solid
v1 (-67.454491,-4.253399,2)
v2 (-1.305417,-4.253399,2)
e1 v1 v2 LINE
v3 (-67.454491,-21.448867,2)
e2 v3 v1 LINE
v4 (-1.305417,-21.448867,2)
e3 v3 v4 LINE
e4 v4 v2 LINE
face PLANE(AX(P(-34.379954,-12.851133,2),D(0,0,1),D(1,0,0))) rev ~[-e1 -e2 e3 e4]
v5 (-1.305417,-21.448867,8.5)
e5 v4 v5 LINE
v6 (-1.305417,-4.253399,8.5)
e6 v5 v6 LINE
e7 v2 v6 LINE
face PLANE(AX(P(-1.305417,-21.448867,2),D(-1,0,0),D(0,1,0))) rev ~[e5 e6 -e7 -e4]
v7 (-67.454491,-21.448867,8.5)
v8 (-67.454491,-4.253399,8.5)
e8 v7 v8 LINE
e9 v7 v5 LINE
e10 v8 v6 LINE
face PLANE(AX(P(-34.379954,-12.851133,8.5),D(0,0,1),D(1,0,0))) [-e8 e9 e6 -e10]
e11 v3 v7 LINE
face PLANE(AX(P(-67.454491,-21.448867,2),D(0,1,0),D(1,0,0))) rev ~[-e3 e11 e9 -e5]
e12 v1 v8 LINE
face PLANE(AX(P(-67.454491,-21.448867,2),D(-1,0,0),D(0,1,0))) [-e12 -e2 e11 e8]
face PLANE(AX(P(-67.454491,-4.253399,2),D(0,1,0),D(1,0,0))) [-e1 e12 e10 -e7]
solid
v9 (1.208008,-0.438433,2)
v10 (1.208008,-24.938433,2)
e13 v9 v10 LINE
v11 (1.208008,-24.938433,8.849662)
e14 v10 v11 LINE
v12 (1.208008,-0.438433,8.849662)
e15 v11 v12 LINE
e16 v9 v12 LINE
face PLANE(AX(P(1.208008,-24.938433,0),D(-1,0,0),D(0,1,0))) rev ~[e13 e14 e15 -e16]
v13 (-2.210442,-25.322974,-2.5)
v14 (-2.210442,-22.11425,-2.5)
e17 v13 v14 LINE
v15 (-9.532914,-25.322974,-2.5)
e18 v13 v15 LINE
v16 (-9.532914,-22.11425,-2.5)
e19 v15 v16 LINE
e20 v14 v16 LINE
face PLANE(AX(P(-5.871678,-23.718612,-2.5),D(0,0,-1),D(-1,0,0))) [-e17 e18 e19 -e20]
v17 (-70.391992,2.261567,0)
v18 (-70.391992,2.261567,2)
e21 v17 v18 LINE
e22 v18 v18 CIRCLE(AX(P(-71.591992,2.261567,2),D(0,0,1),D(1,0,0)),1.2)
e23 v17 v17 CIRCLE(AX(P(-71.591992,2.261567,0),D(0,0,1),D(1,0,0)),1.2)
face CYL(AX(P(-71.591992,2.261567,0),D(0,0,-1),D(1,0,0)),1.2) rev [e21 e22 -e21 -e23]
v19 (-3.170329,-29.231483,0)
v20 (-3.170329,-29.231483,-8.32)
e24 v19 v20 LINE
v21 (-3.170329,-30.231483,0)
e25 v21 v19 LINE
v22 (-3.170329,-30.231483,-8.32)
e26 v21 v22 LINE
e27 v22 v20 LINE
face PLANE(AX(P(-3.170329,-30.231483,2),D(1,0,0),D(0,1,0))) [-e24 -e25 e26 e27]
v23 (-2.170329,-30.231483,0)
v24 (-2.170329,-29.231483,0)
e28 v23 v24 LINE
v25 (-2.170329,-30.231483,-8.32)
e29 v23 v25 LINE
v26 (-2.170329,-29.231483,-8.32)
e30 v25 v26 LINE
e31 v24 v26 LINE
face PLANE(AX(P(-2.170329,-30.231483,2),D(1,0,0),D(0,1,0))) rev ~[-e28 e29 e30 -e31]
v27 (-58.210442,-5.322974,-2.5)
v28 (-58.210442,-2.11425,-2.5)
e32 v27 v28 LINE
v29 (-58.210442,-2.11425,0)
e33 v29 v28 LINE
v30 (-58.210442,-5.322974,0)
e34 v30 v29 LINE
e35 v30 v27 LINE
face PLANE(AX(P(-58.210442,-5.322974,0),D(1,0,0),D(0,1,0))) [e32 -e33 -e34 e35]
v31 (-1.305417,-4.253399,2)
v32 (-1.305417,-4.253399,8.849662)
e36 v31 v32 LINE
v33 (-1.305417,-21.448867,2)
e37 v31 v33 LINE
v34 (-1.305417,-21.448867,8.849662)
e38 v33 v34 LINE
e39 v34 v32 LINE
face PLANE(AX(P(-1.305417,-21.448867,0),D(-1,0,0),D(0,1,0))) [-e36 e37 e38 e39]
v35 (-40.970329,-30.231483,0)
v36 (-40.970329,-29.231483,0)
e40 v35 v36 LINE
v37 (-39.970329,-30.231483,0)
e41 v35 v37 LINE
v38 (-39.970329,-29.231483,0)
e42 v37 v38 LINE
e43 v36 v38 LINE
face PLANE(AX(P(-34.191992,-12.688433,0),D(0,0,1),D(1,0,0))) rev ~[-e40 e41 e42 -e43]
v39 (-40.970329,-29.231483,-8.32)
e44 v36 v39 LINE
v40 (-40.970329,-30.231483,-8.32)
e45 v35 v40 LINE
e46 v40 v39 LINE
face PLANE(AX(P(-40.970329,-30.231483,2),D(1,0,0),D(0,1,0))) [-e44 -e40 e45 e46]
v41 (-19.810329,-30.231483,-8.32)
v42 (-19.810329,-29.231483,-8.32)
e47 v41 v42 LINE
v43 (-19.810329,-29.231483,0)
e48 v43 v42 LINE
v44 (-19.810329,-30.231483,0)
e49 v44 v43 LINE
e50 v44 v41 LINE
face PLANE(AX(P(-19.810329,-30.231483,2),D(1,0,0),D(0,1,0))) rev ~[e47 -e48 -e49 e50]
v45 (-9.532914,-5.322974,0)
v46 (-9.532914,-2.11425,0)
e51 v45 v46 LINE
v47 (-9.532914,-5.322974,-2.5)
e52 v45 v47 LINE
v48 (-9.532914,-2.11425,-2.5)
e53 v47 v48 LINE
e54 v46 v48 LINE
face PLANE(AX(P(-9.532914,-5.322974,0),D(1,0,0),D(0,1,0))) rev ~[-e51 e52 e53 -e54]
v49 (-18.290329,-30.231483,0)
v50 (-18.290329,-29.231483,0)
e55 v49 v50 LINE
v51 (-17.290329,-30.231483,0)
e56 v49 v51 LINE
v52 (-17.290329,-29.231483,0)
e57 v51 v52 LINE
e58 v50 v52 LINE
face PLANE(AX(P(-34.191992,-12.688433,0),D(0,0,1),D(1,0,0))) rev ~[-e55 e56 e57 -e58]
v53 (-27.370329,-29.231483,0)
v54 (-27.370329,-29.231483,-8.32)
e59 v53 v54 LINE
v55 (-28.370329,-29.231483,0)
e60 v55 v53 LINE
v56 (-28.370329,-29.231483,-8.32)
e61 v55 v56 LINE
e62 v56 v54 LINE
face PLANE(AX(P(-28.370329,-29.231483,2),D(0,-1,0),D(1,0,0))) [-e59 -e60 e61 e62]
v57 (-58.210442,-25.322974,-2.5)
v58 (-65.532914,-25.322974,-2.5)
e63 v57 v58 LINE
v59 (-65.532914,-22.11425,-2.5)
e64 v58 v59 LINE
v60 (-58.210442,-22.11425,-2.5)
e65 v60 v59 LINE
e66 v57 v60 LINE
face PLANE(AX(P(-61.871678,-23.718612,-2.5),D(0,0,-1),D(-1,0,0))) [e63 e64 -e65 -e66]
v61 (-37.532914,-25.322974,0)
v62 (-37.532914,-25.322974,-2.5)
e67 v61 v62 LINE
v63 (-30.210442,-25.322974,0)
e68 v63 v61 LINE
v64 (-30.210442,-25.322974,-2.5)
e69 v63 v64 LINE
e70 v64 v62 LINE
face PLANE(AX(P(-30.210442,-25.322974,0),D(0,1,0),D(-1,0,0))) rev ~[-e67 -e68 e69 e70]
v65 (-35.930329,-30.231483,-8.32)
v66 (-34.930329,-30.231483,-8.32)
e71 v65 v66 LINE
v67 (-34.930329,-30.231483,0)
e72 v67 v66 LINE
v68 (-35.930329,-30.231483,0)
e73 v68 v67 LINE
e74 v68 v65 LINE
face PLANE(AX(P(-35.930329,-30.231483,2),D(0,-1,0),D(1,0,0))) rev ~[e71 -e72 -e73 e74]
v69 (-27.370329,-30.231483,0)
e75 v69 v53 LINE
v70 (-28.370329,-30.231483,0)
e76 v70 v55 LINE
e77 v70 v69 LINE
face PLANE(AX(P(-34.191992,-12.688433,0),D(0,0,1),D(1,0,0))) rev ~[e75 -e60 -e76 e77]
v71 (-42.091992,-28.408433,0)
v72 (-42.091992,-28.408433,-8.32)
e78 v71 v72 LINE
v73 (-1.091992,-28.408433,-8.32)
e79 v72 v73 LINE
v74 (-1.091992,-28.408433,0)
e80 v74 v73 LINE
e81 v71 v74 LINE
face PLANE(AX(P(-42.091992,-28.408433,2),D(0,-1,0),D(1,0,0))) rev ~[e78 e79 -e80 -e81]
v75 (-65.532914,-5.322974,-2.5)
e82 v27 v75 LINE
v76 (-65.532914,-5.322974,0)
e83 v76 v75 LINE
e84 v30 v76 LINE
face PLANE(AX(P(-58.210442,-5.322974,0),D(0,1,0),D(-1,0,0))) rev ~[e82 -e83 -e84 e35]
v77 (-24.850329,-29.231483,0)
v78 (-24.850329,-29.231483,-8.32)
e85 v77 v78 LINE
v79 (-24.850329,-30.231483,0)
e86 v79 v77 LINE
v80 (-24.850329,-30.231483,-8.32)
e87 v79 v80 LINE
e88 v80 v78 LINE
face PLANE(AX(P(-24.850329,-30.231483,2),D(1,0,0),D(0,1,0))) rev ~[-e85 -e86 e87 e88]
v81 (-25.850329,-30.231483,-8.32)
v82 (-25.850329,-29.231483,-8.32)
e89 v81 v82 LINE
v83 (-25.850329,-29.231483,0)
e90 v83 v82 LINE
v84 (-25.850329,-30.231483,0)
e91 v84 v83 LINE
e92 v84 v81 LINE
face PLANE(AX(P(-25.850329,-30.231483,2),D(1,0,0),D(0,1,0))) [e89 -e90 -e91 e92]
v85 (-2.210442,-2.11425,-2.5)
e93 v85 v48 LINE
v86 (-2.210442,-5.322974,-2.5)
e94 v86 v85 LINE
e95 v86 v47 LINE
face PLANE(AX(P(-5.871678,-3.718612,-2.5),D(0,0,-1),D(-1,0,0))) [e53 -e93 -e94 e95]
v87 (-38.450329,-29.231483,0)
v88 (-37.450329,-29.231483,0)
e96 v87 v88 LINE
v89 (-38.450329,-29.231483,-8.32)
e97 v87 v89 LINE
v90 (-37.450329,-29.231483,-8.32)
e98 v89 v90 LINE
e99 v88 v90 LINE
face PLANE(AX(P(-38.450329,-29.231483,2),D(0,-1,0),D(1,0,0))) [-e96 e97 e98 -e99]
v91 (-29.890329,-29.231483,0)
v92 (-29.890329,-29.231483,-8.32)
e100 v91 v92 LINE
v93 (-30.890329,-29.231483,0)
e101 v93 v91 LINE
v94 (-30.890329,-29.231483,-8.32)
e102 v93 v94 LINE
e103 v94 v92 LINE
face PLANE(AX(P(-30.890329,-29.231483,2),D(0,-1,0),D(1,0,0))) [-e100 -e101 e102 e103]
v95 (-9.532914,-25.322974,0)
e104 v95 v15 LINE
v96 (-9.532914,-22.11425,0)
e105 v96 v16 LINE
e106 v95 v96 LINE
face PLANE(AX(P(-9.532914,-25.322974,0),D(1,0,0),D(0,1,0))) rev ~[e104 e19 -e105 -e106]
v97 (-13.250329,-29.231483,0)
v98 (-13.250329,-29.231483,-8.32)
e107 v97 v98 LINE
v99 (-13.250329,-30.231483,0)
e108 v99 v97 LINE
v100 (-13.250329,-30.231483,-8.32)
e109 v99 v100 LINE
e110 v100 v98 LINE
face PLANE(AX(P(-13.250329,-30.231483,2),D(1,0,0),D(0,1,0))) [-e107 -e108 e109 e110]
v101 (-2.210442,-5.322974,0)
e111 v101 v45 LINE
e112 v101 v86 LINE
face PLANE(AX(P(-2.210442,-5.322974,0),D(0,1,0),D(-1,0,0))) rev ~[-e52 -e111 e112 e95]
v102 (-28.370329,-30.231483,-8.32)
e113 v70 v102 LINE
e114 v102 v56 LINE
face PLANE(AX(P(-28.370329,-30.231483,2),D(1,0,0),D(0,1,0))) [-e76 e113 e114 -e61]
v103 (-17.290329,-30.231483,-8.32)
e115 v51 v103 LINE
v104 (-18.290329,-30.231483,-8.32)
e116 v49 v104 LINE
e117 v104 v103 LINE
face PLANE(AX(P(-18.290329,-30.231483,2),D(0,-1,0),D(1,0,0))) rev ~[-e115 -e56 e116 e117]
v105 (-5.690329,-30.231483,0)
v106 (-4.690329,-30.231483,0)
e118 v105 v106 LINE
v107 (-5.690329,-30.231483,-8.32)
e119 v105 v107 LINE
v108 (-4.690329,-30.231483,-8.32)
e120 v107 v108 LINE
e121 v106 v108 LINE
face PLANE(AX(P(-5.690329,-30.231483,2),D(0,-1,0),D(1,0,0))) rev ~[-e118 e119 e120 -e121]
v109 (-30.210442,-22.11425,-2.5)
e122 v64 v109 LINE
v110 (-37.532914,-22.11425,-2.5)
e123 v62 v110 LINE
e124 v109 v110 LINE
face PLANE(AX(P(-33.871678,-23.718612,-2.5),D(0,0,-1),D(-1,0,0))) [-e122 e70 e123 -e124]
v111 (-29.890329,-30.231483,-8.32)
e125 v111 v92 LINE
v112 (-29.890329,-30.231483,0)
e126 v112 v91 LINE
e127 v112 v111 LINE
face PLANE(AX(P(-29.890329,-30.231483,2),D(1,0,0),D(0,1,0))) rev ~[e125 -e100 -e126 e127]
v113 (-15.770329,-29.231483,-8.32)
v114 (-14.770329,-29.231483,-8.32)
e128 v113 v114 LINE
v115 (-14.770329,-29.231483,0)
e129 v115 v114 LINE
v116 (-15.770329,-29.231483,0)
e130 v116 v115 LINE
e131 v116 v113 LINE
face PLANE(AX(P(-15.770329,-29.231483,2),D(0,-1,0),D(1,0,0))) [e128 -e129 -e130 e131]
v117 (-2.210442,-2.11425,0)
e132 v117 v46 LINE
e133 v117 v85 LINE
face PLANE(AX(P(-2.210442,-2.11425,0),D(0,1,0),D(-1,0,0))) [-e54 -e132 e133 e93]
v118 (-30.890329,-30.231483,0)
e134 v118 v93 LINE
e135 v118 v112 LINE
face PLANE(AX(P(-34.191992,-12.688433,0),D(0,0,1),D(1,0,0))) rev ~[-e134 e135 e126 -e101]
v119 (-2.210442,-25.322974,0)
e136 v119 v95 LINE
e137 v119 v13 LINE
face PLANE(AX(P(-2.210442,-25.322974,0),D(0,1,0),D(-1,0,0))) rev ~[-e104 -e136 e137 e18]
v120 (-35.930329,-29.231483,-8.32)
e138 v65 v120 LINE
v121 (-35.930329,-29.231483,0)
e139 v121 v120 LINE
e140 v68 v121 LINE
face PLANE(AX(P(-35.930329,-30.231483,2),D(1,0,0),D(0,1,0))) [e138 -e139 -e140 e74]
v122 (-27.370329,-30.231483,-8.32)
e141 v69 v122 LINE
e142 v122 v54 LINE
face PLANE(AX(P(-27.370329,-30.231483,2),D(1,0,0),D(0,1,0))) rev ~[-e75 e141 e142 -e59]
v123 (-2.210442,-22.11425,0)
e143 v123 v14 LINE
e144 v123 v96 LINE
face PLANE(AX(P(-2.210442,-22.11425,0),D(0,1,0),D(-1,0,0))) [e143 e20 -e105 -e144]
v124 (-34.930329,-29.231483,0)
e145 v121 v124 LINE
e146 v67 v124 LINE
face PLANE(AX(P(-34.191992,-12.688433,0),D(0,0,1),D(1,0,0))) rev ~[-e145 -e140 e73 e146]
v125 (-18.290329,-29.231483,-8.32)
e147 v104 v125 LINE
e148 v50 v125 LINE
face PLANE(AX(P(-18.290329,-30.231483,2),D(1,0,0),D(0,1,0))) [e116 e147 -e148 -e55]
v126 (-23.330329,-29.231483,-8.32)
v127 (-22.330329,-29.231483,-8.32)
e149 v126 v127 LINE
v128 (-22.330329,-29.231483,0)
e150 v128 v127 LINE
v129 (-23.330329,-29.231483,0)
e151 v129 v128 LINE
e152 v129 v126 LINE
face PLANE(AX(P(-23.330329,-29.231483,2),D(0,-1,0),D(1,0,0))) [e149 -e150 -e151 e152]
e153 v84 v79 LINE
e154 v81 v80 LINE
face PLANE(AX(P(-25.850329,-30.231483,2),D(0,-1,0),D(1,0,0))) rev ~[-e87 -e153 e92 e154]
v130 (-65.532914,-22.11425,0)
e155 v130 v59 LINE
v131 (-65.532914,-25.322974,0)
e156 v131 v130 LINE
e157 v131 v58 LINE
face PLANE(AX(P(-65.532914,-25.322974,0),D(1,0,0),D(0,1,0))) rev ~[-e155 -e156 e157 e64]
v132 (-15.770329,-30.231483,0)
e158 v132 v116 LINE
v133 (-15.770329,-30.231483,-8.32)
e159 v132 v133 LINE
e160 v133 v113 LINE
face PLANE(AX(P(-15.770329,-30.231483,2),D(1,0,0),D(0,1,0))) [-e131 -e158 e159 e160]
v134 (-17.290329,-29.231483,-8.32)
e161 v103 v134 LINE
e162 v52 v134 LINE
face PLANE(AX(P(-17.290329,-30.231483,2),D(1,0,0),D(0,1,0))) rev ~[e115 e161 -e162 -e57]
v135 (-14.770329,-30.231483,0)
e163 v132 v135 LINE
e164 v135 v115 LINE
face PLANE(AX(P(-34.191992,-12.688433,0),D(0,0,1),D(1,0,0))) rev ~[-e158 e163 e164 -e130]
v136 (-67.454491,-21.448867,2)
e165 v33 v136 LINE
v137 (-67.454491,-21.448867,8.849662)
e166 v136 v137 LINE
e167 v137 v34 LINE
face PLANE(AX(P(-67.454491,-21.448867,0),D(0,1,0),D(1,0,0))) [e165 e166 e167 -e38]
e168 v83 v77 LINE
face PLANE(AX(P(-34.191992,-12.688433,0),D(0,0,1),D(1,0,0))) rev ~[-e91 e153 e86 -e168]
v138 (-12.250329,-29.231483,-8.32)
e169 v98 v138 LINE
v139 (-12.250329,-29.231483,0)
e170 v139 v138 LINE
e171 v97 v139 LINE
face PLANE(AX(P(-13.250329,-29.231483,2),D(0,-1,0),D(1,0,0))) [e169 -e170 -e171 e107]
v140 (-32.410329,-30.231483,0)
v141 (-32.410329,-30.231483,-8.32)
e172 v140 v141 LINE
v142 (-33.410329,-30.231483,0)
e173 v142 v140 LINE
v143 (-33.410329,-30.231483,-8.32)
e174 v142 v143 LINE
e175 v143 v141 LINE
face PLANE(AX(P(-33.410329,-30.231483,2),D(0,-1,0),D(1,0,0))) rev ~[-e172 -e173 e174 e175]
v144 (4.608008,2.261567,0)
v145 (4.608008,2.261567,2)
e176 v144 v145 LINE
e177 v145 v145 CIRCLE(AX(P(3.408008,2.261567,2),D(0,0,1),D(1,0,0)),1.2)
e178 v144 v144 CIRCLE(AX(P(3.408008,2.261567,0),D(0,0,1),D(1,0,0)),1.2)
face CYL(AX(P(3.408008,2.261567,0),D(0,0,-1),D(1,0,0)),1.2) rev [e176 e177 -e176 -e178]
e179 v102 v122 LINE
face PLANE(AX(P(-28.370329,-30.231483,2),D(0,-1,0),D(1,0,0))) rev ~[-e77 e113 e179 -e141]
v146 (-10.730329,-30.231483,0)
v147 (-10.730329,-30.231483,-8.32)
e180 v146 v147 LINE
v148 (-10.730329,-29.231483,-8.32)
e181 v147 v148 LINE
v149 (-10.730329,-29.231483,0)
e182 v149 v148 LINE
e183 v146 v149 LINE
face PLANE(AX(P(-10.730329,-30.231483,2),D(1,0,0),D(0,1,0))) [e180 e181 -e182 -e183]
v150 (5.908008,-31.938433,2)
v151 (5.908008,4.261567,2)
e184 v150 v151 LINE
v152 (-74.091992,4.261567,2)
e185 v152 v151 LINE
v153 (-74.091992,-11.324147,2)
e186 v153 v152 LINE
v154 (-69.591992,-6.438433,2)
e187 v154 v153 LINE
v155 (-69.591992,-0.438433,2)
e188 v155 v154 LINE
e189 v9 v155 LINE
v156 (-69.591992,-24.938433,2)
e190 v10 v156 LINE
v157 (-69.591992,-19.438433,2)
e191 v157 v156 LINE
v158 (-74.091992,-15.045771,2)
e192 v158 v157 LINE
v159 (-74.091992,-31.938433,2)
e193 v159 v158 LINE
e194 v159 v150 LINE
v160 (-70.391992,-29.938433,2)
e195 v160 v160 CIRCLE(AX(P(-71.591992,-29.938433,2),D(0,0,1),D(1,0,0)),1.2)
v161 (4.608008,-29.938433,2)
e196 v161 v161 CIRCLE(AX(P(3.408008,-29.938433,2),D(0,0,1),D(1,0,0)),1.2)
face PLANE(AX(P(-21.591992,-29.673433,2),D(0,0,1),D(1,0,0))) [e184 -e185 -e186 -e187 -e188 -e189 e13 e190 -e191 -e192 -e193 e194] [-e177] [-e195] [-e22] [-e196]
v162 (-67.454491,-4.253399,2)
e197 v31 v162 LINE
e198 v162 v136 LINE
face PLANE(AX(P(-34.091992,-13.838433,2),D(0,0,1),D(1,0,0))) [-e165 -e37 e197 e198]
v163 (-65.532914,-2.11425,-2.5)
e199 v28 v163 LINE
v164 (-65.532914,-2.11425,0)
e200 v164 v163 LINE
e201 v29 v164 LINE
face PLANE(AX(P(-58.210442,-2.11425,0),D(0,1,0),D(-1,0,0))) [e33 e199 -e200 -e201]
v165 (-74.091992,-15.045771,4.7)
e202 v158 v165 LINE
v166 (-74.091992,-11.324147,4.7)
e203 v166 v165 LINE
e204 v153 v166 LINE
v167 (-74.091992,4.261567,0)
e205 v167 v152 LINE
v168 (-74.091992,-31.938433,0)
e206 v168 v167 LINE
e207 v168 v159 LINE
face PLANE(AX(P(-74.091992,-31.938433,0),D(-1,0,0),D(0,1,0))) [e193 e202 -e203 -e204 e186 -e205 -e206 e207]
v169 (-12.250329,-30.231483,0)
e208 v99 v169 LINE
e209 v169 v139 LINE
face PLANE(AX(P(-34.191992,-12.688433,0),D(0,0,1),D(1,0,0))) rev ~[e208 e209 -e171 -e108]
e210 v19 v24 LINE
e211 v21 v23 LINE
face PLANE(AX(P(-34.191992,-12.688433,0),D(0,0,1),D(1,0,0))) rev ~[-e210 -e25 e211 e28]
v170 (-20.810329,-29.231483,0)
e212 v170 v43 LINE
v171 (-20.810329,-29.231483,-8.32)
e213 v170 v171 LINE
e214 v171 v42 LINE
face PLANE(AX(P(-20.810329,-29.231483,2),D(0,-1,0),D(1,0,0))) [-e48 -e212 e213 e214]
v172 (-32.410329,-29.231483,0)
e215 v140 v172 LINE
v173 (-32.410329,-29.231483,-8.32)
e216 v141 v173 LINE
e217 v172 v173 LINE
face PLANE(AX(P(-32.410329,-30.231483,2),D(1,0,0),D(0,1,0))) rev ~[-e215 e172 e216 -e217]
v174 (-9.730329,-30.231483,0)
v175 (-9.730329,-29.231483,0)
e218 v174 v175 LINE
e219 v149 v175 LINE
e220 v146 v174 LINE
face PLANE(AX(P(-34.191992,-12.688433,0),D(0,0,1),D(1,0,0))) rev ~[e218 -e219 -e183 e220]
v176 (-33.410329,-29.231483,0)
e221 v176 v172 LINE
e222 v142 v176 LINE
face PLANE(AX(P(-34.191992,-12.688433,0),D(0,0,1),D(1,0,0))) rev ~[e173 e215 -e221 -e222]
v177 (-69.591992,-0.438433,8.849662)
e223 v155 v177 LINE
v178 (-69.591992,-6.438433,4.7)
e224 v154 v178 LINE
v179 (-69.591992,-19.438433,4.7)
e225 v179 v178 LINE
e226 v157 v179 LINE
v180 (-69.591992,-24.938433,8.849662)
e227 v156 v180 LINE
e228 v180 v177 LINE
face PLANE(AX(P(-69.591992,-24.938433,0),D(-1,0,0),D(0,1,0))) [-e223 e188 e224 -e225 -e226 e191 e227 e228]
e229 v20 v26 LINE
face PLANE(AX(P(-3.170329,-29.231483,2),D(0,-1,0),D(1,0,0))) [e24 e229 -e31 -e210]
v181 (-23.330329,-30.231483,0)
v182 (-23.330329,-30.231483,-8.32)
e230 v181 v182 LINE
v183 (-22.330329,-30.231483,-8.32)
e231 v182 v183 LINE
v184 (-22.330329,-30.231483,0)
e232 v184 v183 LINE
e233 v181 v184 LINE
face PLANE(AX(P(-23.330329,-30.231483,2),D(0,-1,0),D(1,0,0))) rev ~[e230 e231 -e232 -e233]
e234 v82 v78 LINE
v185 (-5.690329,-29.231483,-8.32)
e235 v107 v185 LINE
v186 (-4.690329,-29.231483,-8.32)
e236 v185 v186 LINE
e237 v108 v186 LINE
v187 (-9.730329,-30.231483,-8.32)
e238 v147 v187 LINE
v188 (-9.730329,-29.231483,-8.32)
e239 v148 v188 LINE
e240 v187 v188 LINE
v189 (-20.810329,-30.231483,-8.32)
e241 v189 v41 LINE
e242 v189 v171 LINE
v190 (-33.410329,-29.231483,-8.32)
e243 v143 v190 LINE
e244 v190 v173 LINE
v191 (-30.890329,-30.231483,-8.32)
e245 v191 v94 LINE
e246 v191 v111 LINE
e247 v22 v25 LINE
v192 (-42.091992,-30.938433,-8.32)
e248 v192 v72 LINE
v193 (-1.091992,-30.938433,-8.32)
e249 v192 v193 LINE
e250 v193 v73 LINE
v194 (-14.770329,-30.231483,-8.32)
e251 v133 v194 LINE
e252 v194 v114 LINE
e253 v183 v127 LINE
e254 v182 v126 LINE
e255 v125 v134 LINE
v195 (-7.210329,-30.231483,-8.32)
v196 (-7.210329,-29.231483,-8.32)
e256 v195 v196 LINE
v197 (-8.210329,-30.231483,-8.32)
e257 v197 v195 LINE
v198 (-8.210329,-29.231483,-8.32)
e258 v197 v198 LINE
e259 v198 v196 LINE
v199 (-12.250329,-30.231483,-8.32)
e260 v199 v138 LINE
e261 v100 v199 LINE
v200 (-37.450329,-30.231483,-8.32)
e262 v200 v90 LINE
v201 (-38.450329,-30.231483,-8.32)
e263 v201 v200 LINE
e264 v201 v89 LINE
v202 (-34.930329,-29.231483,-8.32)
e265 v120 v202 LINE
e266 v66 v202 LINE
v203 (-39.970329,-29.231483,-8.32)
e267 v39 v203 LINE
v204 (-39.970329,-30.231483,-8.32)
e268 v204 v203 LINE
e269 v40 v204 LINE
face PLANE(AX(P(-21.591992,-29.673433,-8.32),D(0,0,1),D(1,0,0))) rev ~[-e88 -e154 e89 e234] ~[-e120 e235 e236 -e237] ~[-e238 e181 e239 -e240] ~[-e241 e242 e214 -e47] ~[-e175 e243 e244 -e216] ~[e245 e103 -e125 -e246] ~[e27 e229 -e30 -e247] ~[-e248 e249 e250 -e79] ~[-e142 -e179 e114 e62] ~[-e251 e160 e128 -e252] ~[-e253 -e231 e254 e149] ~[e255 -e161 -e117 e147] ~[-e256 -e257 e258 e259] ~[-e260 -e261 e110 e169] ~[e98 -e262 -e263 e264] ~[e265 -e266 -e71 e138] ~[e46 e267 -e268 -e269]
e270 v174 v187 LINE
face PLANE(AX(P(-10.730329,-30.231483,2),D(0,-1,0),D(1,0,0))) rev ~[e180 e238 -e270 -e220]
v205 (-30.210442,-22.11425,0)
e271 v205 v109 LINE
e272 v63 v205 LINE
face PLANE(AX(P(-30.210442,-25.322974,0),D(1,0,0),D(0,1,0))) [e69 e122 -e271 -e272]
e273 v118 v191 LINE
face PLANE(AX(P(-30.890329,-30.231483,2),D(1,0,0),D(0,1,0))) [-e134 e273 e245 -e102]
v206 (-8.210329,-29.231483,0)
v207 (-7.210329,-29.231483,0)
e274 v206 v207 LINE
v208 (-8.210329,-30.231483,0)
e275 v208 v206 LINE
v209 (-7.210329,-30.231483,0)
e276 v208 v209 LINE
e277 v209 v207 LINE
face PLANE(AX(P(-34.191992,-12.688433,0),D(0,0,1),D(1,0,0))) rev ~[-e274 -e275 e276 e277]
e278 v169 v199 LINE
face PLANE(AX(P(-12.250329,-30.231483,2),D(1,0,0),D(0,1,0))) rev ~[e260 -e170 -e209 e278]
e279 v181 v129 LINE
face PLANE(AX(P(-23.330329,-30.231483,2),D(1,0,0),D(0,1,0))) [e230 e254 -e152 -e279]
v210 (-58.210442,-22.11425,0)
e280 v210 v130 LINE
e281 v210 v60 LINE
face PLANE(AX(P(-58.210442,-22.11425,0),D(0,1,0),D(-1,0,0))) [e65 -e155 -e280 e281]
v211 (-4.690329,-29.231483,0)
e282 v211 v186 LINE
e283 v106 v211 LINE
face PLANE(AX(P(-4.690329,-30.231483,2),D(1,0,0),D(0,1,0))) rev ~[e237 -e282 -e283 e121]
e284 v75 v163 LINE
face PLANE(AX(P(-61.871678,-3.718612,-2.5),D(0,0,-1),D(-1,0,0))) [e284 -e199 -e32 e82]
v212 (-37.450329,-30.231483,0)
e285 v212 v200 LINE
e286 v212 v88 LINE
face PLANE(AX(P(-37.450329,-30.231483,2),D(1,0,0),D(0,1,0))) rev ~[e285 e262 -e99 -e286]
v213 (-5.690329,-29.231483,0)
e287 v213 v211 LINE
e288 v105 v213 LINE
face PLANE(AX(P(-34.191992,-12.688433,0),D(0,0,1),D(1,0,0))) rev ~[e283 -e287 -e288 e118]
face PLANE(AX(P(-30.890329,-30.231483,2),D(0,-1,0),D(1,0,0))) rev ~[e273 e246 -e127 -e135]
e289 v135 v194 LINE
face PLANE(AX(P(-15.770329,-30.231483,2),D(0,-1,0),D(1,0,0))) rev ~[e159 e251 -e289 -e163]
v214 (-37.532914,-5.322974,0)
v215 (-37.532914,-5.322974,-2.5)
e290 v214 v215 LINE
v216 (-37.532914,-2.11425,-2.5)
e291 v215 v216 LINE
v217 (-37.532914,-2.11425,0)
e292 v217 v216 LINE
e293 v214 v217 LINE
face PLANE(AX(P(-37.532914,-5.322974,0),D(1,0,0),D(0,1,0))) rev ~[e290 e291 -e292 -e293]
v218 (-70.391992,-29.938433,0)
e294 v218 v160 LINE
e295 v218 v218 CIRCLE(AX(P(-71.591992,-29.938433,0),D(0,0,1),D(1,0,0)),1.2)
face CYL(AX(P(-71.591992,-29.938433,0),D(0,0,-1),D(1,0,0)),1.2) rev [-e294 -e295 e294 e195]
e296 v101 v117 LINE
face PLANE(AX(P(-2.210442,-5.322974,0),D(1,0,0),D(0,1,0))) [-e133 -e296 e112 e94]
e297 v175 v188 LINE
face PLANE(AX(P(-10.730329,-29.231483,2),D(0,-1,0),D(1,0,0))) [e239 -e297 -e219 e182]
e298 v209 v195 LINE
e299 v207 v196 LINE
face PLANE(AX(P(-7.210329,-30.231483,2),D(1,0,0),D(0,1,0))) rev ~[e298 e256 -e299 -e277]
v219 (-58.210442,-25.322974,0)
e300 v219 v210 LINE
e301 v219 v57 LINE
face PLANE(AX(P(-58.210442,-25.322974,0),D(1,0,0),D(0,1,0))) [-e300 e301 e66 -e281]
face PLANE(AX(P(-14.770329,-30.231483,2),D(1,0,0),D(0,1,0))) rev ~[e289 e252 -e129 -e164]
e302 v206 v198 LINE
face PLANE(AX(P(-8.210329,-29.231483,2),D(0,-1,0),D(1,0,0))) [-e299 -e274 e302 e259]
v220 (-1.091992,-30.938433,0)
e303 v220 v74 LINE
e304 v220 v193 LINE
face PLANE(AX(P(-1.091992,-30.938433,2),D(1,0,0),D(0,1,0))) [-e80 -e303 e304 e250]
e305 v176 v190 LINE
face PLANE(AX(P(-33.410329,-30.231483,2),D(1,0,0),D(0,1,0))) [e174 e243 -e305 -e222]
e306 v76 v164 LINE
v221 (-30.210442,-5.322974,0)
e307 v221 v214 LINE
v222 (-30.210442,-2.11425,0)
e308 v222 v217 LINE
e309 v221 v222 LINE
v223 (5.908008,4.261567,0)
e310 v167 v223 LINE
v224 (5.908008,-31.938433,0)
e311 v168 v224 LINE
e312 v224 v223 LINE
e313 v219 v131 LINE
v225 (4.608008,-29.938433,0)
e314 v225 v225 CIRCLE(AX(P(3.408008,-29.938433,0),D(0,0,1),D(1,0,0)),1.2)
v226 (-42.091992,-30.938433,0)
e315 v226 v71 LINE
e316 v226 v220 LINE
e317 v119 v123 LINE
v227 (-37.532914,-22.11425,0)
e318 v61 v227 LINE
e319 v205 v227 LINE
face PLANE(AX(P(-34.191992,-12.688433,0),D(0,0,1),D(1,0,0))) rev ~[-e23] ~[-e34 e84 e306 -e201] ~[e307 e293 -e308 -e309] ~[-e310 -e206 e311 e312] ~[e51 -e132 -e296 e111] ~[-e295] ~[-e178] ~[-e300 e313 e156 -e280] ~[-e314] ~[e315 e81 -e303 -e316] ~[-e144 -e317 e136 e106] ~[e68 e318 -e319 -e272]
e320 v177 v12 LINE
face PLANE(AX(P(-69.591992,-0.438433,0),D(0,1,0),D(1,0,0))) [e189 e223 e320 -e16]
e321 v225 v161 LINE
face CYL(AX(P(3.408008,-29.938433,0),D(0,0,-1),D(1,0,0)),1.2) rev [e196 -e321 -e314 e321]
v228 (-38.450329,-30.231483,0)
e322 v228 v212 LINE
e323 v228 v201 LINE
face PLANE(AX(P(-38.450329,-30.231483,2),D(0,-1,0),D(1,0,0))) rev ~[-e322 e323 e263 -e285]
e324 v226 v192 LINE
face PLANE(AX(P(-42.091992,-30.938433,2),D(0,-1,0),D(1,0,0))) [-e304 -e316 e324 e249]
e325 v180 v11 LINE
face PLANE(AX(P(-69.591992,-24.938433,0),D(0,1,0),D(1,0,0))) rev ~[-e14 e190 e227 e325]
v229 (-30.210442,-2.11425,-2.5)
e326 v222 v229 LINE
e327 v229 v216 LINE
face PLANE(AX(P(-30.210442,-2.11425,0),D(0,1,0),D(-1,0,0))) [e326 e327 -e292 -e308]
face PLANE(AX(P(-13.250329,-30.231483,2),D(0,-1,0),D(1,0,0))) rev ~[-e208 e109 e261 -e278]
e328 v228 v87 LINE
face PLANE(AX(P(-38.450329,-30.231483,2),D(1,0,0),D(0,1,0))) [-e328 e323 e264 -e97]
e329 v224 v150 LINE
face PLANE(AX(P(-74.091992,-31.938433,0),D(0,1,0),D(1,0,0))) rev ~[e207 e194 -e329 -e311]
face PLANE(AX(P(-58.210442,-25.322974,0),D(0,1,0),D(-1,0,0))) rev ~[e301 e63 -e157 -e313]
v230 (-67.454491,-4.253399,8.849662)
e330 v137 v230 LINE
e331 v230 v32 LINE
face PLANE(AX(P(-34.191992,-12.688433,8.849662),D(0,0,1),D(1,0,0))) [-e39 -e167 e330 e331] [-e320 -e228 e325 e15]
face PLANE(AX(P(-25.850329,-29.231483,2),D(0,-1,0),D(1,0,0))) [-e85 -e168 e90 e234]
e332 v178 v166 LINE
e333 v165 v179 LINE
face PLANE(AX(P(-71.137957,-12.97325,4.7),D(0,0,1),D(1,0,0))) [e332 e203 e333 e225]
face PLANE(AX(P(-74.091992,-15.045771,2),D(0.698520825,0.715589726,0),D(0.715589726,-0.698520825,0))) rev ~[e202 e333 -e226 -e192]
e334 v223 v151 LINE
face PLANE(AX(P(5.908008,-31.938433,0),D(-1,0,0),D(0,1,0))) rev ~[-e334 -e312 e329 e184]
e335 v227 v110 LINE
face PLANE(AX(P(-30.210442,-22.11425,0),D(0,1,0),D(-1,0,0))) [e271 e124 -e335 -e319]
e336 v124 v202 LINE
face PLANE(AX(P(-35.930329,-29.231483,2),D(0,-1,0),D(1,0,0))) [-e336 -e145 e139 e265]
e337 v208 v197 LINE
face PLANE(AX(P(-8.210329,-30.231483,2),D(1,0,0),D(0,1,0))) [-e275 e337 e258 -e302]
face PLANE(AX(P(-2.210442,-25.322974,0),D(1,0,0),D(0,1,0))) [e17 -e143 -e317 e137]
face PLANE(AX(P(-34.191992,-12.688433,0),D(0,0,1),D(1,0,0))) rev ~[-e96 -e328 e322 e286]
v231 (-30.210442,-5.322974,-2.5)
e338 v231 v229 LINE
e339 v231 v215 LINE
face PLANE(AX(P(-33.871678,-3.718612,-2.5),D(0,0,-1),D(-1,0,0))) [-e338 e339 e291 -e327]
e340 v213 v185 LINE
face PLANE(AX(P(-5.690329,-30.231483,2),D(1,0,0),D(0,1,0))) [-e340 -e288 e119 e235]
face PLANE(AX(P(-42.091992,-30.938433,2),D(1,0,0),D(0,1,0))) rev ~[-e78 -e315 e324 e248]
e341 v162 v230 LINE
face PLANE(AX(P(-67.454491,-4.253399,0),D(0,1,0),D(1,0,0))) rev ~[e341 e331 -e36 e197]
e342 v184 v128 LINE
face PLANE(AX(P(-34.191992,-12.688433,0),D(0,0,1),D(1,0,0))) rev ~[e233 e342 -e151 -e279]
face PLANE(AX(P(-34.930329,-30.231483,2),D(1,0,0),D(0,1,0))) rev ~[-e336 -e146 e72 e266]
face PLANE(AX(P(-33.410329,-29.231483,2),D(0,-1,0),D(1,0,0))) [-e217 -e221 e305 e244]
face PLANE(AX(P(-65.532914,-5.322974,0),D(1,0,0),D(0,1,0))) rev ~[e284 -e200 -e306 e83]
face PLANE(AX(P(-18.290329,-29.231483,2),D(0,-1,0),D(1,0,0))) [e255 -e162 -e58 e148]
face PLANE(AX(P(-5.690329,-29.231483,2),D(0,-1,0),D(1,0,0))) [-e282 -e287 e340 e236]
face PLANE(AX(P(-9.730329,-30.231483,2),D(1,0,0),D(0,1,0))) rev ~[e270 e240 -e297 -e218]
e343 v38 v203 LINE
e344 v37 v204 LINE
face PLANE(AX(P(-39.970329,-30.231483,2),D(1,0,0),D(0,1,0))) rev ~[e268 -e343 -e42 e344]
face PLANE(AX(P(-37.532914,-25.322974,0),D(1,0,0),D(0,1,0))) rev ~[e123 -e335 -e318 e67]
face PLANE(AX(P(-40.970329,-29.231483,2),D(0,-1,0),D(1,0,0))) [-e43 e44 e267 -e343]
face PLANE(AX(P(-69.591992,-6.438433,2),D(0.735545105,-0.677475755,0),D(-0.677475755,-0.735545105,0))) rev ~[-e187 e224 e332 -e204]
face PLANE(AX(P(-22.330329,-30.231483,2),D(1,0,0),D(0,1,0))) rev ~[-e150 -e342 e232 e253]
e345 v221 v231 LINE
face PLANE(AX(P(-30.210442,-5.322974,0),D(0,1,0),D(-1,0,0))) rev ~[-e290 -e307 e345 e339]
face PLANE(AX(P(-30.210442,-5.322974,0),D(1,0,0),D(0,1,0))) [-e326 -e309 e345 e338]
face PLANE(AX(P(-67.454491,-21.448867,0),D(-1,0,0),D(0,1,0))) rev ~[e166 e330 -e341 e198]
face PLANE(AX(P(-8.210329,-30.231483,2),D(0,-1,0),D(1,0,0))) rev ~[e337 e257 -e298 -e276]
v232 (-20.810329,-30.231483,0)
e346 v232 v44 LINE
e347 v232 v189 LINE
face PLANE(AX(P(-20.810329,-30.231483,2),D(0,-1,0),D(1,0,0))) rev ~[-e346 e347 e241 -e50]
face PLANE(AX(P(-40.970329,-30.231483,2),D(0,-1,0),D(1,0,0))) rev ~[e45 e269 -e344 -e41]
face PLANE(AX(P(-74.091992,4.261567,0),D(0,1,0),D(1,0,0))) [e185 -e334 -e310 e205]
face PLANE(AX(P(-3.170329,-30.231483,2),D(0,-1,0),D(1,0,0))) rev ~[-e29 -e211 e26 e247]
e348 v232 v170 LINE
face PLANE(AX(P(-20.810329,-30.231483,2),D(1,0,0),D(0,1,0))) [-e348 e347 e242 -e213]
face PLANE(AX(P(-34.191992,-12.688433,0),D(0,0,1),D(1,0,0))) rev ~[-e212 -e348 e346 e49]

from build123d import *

# Parameters (mm, degrees)
SKETCH_2_W      = 80
SKETCH_2_H      = 36.2
SKETCH_2_R      = 1.2
EXTRUDE_1_DEPTH = 2
SKETCH_3_W      = 70.8
SKETCH_3_H      = 24.5
SKETCH_3_W_2    = 66.149074023
SKETCH_3_H_2    = 17.195468247
EXTRUDE_2_DEPTH = 8.849661681
SKETCH_4_W      = 66.149074023
SKETCH_4_H      = 17.195468247
EXTRUDE_3_DEPTH = 6.5
SKETCH_6_W      = 41
SKETCH_6_H      = 2.53
SKETCH_6_W_2    = 1
SKETCH_6_H_2    = 1
EXTRUDE_4_DEPTH = 10.32
EXTRUDE_5_DEPTH = 2.7
SKETCH_8_W      = 7.322472125
SKETCH_8_H      = 3.20872374
EXTRUDE_6_DEPTH = 2.5


with BuildPart() as part:
    # 草图2 → 凸台-拉伸1 (new body)
    with BuildSketch(Plane.XY):
        with Locations((-34.091991963, -13.838432836)):
            Rectangle(SKETCH_2_W, SKETCH_2_H)
        with Locations((3.408008037, -29.938432836)):
            Circle(SKETCH_2_R, mode=Mode.SUBTRACT)
        with Locations((-71.591991963, 2.261567164)):
            Circle(SKETCH_2_R, mode=Mode.SUBTRACT)
        with Locations((3.408008037, 2.261567164)):
            Circle(SKETCH_2_R, mode=Mode.SUBTRACT)
        with Locations((-71.591991963, -29.938432836)):
            Circle(SKETCH_2_R, mode=Mode.SUBTRACT)
    extrude(amount=EXTRUDE_1_DEPTH)

    # 草图3 → 凸台-拉伸2 (add)
    with BuildSketch(Plane.XY):
        with Locations((-34.191991963, -12.688432836)):
            Rectangle(SKETCH_3_W, SKETCH_3_H)
        with Locations((-34.379954351, -12.851133223)):
            Rectangle(SKETCH_3_W_2, SKETCH_3_H_2, mode=Mode.SUBTRACT)
    extrude(amount=EXTRUDE_2_DEPTH)

    # 草图6 → 凸台-拉伸4 (add)
    with BuildSketch(Plane.XY.offset(2)):
        with Locations((-21.591991963, -29.673432836)):
            Rectangle(SKETCH_6_W, SKETCH_6_H)
        with Locations((-5.190328845, -29.731482843)):
            Rectangle(SKETCH_6_W_2, SKETCH_6_H_2, mode=Mode.SUBTRACT)
        with Locations((-2.670328845, -29.731482843)):
            Rectangle(SKETCH_6_W_2, SKETCH_6_H_2, mode=Mode.SUBTRACT)
        with Locations((-7.710328845, -29.731482843)):
            Rectangle(SKETCH_6_W_2, SKETCH_6_H_2, mode=Mode.SUBTRACT)
        with Locations((-10.230328845, -29.731482843)):
            Rectangle(SKETCH_6_W_2, SKETCH_6_H_2, mode=Mode.SUBTRACT)
        with Locations((-12.750328845, -29.731482843)):
            Rectangle(SKETCH_6_W_2, SKETCH_6_H_2, mode=Mode.SUBTRACT)
        with Locations((-15.270328845, -29.731482843)):
            Rectangle(SKETCH_6_W_2, SKETCH_6_H_2, mode=Mode.SUBTRACT)
        with Locations((-17.790328845, -29.731482843)):
            Rectangle(SKETCH_6_W_2, SKETCH_6_H_2, mode=Mode.SUBTRACT)
        with Locations((-20.310328845, -29.731482843)):
            Rectangle(SKETCH_6_W_2, SKETCH_6_H_2, mode=Mode.SUBTRACT)
        with Locations((-22.830328845, -29.731482843)):
            Rectangle(SKETCH_6_W_2, SKETCH_6_H_2, mode=Mode.SUBTRACT)
        with Locations((-25.350328845, -29.731482843)):
            Rectangle(SKETCH_6_W_2, SKETCH_6_H_2, mode=Mode.SUBTRACT)
        with Locations((-27.870328845, -29.731482843)):
            Rectangle(SKETCH_6_W_2, SKETCH_6_H_2, mode=Mode.SUBTRACT)
        with Locations((-30.390328845, -29.731482843)):
            Rectangle(SKETCH_6_W_2, SKETCH_6_H_2, mode=Mode.SUBTRACT)
        with Locations((-32.910328845, -29.731482843)):
            Rectangle(SKETCH_6_W_2, SKETCH_6_H_2, mode=Mode.SUBTRACT)
        with Locations((-35.430328845, -29.731482843)):
            Rectangle(SKETCH_6_W_2, SKETCH_6_H_2, mode=Mode.SUBTRACT)
        with Locations((-37.950328845, -29.731482843)):
            Rectangle(SKETCH_6_W_2, SKETCH_6_H_2, mode=Mode.SUBTRACT)
        with Locations((-40.470328845, -29.731482843)):
            Rectangle(SKETCH_6_W_2, SKETCH_6_H_2, mode=Mode.SUBTRACT)
    extrude(amount=-EXTRUDE_4_DEPTH)

    # 草图7 → 凸台-拉伸5 (add)
    with BuildSketch(Plane.XY.offset(2)):
        Polygon((-69.591991963, -19.438432836), (-69.591991963, -6.438432836), (-74.091991963, -11.324147122), (-74.091991963, -15.045770955), align=None)
    extrude(amount=EXTRUDE_5_DEPTH)

    # 草图8 → 凸台-拉伸6 (add)
    with BuildSketch(Plane(origin=(0, 0, 0), x_dir=(-1, 0, 0), z_dir=(0, 0, -1))):
        with Locations((33.871678046, -3.71861181)):
            Rectangle(SKETCH_8_W, SKETCH_8_H)
        with Locations((5.871678045, -3.71861181)):
            Rectangle(SKETCH_8_W, SKETCH_8_H)
        with Locations((61.871678046, -3.71861181)):
            Rectangle(SKETCH_8_W, SKETCH_8_H)
        with Locations((33.871678046, -23.71861181)):
            Rectangle(SKETCH_8_W, SKETCH_8_H)
        with Locations((61.871678046, -23.71861181)):
            Rectangle(SKETCH_8_W, SKETCH_8_H)
        with Locations((5.871678045, -23.71861181)):
            Rectangle(SKETCH_8_W, SKETCH_8_H)
    extrude(amount=EXTRUDE_6_DEPTH)


with BuildPart() as body_2:
    # 草图4 → 凸台-拉伸3 (new body)
    with BuildSketch(Plane.XY.offset(2)):
        with Locations((-34.379954351, -12.851133223)):
            Rectangle(SKETCH_4_W, SKETCH_4_H)
    extrude(amount=EXTRUDE_3_DEPTH)


solid = Compound([part.part, body_2.part])
